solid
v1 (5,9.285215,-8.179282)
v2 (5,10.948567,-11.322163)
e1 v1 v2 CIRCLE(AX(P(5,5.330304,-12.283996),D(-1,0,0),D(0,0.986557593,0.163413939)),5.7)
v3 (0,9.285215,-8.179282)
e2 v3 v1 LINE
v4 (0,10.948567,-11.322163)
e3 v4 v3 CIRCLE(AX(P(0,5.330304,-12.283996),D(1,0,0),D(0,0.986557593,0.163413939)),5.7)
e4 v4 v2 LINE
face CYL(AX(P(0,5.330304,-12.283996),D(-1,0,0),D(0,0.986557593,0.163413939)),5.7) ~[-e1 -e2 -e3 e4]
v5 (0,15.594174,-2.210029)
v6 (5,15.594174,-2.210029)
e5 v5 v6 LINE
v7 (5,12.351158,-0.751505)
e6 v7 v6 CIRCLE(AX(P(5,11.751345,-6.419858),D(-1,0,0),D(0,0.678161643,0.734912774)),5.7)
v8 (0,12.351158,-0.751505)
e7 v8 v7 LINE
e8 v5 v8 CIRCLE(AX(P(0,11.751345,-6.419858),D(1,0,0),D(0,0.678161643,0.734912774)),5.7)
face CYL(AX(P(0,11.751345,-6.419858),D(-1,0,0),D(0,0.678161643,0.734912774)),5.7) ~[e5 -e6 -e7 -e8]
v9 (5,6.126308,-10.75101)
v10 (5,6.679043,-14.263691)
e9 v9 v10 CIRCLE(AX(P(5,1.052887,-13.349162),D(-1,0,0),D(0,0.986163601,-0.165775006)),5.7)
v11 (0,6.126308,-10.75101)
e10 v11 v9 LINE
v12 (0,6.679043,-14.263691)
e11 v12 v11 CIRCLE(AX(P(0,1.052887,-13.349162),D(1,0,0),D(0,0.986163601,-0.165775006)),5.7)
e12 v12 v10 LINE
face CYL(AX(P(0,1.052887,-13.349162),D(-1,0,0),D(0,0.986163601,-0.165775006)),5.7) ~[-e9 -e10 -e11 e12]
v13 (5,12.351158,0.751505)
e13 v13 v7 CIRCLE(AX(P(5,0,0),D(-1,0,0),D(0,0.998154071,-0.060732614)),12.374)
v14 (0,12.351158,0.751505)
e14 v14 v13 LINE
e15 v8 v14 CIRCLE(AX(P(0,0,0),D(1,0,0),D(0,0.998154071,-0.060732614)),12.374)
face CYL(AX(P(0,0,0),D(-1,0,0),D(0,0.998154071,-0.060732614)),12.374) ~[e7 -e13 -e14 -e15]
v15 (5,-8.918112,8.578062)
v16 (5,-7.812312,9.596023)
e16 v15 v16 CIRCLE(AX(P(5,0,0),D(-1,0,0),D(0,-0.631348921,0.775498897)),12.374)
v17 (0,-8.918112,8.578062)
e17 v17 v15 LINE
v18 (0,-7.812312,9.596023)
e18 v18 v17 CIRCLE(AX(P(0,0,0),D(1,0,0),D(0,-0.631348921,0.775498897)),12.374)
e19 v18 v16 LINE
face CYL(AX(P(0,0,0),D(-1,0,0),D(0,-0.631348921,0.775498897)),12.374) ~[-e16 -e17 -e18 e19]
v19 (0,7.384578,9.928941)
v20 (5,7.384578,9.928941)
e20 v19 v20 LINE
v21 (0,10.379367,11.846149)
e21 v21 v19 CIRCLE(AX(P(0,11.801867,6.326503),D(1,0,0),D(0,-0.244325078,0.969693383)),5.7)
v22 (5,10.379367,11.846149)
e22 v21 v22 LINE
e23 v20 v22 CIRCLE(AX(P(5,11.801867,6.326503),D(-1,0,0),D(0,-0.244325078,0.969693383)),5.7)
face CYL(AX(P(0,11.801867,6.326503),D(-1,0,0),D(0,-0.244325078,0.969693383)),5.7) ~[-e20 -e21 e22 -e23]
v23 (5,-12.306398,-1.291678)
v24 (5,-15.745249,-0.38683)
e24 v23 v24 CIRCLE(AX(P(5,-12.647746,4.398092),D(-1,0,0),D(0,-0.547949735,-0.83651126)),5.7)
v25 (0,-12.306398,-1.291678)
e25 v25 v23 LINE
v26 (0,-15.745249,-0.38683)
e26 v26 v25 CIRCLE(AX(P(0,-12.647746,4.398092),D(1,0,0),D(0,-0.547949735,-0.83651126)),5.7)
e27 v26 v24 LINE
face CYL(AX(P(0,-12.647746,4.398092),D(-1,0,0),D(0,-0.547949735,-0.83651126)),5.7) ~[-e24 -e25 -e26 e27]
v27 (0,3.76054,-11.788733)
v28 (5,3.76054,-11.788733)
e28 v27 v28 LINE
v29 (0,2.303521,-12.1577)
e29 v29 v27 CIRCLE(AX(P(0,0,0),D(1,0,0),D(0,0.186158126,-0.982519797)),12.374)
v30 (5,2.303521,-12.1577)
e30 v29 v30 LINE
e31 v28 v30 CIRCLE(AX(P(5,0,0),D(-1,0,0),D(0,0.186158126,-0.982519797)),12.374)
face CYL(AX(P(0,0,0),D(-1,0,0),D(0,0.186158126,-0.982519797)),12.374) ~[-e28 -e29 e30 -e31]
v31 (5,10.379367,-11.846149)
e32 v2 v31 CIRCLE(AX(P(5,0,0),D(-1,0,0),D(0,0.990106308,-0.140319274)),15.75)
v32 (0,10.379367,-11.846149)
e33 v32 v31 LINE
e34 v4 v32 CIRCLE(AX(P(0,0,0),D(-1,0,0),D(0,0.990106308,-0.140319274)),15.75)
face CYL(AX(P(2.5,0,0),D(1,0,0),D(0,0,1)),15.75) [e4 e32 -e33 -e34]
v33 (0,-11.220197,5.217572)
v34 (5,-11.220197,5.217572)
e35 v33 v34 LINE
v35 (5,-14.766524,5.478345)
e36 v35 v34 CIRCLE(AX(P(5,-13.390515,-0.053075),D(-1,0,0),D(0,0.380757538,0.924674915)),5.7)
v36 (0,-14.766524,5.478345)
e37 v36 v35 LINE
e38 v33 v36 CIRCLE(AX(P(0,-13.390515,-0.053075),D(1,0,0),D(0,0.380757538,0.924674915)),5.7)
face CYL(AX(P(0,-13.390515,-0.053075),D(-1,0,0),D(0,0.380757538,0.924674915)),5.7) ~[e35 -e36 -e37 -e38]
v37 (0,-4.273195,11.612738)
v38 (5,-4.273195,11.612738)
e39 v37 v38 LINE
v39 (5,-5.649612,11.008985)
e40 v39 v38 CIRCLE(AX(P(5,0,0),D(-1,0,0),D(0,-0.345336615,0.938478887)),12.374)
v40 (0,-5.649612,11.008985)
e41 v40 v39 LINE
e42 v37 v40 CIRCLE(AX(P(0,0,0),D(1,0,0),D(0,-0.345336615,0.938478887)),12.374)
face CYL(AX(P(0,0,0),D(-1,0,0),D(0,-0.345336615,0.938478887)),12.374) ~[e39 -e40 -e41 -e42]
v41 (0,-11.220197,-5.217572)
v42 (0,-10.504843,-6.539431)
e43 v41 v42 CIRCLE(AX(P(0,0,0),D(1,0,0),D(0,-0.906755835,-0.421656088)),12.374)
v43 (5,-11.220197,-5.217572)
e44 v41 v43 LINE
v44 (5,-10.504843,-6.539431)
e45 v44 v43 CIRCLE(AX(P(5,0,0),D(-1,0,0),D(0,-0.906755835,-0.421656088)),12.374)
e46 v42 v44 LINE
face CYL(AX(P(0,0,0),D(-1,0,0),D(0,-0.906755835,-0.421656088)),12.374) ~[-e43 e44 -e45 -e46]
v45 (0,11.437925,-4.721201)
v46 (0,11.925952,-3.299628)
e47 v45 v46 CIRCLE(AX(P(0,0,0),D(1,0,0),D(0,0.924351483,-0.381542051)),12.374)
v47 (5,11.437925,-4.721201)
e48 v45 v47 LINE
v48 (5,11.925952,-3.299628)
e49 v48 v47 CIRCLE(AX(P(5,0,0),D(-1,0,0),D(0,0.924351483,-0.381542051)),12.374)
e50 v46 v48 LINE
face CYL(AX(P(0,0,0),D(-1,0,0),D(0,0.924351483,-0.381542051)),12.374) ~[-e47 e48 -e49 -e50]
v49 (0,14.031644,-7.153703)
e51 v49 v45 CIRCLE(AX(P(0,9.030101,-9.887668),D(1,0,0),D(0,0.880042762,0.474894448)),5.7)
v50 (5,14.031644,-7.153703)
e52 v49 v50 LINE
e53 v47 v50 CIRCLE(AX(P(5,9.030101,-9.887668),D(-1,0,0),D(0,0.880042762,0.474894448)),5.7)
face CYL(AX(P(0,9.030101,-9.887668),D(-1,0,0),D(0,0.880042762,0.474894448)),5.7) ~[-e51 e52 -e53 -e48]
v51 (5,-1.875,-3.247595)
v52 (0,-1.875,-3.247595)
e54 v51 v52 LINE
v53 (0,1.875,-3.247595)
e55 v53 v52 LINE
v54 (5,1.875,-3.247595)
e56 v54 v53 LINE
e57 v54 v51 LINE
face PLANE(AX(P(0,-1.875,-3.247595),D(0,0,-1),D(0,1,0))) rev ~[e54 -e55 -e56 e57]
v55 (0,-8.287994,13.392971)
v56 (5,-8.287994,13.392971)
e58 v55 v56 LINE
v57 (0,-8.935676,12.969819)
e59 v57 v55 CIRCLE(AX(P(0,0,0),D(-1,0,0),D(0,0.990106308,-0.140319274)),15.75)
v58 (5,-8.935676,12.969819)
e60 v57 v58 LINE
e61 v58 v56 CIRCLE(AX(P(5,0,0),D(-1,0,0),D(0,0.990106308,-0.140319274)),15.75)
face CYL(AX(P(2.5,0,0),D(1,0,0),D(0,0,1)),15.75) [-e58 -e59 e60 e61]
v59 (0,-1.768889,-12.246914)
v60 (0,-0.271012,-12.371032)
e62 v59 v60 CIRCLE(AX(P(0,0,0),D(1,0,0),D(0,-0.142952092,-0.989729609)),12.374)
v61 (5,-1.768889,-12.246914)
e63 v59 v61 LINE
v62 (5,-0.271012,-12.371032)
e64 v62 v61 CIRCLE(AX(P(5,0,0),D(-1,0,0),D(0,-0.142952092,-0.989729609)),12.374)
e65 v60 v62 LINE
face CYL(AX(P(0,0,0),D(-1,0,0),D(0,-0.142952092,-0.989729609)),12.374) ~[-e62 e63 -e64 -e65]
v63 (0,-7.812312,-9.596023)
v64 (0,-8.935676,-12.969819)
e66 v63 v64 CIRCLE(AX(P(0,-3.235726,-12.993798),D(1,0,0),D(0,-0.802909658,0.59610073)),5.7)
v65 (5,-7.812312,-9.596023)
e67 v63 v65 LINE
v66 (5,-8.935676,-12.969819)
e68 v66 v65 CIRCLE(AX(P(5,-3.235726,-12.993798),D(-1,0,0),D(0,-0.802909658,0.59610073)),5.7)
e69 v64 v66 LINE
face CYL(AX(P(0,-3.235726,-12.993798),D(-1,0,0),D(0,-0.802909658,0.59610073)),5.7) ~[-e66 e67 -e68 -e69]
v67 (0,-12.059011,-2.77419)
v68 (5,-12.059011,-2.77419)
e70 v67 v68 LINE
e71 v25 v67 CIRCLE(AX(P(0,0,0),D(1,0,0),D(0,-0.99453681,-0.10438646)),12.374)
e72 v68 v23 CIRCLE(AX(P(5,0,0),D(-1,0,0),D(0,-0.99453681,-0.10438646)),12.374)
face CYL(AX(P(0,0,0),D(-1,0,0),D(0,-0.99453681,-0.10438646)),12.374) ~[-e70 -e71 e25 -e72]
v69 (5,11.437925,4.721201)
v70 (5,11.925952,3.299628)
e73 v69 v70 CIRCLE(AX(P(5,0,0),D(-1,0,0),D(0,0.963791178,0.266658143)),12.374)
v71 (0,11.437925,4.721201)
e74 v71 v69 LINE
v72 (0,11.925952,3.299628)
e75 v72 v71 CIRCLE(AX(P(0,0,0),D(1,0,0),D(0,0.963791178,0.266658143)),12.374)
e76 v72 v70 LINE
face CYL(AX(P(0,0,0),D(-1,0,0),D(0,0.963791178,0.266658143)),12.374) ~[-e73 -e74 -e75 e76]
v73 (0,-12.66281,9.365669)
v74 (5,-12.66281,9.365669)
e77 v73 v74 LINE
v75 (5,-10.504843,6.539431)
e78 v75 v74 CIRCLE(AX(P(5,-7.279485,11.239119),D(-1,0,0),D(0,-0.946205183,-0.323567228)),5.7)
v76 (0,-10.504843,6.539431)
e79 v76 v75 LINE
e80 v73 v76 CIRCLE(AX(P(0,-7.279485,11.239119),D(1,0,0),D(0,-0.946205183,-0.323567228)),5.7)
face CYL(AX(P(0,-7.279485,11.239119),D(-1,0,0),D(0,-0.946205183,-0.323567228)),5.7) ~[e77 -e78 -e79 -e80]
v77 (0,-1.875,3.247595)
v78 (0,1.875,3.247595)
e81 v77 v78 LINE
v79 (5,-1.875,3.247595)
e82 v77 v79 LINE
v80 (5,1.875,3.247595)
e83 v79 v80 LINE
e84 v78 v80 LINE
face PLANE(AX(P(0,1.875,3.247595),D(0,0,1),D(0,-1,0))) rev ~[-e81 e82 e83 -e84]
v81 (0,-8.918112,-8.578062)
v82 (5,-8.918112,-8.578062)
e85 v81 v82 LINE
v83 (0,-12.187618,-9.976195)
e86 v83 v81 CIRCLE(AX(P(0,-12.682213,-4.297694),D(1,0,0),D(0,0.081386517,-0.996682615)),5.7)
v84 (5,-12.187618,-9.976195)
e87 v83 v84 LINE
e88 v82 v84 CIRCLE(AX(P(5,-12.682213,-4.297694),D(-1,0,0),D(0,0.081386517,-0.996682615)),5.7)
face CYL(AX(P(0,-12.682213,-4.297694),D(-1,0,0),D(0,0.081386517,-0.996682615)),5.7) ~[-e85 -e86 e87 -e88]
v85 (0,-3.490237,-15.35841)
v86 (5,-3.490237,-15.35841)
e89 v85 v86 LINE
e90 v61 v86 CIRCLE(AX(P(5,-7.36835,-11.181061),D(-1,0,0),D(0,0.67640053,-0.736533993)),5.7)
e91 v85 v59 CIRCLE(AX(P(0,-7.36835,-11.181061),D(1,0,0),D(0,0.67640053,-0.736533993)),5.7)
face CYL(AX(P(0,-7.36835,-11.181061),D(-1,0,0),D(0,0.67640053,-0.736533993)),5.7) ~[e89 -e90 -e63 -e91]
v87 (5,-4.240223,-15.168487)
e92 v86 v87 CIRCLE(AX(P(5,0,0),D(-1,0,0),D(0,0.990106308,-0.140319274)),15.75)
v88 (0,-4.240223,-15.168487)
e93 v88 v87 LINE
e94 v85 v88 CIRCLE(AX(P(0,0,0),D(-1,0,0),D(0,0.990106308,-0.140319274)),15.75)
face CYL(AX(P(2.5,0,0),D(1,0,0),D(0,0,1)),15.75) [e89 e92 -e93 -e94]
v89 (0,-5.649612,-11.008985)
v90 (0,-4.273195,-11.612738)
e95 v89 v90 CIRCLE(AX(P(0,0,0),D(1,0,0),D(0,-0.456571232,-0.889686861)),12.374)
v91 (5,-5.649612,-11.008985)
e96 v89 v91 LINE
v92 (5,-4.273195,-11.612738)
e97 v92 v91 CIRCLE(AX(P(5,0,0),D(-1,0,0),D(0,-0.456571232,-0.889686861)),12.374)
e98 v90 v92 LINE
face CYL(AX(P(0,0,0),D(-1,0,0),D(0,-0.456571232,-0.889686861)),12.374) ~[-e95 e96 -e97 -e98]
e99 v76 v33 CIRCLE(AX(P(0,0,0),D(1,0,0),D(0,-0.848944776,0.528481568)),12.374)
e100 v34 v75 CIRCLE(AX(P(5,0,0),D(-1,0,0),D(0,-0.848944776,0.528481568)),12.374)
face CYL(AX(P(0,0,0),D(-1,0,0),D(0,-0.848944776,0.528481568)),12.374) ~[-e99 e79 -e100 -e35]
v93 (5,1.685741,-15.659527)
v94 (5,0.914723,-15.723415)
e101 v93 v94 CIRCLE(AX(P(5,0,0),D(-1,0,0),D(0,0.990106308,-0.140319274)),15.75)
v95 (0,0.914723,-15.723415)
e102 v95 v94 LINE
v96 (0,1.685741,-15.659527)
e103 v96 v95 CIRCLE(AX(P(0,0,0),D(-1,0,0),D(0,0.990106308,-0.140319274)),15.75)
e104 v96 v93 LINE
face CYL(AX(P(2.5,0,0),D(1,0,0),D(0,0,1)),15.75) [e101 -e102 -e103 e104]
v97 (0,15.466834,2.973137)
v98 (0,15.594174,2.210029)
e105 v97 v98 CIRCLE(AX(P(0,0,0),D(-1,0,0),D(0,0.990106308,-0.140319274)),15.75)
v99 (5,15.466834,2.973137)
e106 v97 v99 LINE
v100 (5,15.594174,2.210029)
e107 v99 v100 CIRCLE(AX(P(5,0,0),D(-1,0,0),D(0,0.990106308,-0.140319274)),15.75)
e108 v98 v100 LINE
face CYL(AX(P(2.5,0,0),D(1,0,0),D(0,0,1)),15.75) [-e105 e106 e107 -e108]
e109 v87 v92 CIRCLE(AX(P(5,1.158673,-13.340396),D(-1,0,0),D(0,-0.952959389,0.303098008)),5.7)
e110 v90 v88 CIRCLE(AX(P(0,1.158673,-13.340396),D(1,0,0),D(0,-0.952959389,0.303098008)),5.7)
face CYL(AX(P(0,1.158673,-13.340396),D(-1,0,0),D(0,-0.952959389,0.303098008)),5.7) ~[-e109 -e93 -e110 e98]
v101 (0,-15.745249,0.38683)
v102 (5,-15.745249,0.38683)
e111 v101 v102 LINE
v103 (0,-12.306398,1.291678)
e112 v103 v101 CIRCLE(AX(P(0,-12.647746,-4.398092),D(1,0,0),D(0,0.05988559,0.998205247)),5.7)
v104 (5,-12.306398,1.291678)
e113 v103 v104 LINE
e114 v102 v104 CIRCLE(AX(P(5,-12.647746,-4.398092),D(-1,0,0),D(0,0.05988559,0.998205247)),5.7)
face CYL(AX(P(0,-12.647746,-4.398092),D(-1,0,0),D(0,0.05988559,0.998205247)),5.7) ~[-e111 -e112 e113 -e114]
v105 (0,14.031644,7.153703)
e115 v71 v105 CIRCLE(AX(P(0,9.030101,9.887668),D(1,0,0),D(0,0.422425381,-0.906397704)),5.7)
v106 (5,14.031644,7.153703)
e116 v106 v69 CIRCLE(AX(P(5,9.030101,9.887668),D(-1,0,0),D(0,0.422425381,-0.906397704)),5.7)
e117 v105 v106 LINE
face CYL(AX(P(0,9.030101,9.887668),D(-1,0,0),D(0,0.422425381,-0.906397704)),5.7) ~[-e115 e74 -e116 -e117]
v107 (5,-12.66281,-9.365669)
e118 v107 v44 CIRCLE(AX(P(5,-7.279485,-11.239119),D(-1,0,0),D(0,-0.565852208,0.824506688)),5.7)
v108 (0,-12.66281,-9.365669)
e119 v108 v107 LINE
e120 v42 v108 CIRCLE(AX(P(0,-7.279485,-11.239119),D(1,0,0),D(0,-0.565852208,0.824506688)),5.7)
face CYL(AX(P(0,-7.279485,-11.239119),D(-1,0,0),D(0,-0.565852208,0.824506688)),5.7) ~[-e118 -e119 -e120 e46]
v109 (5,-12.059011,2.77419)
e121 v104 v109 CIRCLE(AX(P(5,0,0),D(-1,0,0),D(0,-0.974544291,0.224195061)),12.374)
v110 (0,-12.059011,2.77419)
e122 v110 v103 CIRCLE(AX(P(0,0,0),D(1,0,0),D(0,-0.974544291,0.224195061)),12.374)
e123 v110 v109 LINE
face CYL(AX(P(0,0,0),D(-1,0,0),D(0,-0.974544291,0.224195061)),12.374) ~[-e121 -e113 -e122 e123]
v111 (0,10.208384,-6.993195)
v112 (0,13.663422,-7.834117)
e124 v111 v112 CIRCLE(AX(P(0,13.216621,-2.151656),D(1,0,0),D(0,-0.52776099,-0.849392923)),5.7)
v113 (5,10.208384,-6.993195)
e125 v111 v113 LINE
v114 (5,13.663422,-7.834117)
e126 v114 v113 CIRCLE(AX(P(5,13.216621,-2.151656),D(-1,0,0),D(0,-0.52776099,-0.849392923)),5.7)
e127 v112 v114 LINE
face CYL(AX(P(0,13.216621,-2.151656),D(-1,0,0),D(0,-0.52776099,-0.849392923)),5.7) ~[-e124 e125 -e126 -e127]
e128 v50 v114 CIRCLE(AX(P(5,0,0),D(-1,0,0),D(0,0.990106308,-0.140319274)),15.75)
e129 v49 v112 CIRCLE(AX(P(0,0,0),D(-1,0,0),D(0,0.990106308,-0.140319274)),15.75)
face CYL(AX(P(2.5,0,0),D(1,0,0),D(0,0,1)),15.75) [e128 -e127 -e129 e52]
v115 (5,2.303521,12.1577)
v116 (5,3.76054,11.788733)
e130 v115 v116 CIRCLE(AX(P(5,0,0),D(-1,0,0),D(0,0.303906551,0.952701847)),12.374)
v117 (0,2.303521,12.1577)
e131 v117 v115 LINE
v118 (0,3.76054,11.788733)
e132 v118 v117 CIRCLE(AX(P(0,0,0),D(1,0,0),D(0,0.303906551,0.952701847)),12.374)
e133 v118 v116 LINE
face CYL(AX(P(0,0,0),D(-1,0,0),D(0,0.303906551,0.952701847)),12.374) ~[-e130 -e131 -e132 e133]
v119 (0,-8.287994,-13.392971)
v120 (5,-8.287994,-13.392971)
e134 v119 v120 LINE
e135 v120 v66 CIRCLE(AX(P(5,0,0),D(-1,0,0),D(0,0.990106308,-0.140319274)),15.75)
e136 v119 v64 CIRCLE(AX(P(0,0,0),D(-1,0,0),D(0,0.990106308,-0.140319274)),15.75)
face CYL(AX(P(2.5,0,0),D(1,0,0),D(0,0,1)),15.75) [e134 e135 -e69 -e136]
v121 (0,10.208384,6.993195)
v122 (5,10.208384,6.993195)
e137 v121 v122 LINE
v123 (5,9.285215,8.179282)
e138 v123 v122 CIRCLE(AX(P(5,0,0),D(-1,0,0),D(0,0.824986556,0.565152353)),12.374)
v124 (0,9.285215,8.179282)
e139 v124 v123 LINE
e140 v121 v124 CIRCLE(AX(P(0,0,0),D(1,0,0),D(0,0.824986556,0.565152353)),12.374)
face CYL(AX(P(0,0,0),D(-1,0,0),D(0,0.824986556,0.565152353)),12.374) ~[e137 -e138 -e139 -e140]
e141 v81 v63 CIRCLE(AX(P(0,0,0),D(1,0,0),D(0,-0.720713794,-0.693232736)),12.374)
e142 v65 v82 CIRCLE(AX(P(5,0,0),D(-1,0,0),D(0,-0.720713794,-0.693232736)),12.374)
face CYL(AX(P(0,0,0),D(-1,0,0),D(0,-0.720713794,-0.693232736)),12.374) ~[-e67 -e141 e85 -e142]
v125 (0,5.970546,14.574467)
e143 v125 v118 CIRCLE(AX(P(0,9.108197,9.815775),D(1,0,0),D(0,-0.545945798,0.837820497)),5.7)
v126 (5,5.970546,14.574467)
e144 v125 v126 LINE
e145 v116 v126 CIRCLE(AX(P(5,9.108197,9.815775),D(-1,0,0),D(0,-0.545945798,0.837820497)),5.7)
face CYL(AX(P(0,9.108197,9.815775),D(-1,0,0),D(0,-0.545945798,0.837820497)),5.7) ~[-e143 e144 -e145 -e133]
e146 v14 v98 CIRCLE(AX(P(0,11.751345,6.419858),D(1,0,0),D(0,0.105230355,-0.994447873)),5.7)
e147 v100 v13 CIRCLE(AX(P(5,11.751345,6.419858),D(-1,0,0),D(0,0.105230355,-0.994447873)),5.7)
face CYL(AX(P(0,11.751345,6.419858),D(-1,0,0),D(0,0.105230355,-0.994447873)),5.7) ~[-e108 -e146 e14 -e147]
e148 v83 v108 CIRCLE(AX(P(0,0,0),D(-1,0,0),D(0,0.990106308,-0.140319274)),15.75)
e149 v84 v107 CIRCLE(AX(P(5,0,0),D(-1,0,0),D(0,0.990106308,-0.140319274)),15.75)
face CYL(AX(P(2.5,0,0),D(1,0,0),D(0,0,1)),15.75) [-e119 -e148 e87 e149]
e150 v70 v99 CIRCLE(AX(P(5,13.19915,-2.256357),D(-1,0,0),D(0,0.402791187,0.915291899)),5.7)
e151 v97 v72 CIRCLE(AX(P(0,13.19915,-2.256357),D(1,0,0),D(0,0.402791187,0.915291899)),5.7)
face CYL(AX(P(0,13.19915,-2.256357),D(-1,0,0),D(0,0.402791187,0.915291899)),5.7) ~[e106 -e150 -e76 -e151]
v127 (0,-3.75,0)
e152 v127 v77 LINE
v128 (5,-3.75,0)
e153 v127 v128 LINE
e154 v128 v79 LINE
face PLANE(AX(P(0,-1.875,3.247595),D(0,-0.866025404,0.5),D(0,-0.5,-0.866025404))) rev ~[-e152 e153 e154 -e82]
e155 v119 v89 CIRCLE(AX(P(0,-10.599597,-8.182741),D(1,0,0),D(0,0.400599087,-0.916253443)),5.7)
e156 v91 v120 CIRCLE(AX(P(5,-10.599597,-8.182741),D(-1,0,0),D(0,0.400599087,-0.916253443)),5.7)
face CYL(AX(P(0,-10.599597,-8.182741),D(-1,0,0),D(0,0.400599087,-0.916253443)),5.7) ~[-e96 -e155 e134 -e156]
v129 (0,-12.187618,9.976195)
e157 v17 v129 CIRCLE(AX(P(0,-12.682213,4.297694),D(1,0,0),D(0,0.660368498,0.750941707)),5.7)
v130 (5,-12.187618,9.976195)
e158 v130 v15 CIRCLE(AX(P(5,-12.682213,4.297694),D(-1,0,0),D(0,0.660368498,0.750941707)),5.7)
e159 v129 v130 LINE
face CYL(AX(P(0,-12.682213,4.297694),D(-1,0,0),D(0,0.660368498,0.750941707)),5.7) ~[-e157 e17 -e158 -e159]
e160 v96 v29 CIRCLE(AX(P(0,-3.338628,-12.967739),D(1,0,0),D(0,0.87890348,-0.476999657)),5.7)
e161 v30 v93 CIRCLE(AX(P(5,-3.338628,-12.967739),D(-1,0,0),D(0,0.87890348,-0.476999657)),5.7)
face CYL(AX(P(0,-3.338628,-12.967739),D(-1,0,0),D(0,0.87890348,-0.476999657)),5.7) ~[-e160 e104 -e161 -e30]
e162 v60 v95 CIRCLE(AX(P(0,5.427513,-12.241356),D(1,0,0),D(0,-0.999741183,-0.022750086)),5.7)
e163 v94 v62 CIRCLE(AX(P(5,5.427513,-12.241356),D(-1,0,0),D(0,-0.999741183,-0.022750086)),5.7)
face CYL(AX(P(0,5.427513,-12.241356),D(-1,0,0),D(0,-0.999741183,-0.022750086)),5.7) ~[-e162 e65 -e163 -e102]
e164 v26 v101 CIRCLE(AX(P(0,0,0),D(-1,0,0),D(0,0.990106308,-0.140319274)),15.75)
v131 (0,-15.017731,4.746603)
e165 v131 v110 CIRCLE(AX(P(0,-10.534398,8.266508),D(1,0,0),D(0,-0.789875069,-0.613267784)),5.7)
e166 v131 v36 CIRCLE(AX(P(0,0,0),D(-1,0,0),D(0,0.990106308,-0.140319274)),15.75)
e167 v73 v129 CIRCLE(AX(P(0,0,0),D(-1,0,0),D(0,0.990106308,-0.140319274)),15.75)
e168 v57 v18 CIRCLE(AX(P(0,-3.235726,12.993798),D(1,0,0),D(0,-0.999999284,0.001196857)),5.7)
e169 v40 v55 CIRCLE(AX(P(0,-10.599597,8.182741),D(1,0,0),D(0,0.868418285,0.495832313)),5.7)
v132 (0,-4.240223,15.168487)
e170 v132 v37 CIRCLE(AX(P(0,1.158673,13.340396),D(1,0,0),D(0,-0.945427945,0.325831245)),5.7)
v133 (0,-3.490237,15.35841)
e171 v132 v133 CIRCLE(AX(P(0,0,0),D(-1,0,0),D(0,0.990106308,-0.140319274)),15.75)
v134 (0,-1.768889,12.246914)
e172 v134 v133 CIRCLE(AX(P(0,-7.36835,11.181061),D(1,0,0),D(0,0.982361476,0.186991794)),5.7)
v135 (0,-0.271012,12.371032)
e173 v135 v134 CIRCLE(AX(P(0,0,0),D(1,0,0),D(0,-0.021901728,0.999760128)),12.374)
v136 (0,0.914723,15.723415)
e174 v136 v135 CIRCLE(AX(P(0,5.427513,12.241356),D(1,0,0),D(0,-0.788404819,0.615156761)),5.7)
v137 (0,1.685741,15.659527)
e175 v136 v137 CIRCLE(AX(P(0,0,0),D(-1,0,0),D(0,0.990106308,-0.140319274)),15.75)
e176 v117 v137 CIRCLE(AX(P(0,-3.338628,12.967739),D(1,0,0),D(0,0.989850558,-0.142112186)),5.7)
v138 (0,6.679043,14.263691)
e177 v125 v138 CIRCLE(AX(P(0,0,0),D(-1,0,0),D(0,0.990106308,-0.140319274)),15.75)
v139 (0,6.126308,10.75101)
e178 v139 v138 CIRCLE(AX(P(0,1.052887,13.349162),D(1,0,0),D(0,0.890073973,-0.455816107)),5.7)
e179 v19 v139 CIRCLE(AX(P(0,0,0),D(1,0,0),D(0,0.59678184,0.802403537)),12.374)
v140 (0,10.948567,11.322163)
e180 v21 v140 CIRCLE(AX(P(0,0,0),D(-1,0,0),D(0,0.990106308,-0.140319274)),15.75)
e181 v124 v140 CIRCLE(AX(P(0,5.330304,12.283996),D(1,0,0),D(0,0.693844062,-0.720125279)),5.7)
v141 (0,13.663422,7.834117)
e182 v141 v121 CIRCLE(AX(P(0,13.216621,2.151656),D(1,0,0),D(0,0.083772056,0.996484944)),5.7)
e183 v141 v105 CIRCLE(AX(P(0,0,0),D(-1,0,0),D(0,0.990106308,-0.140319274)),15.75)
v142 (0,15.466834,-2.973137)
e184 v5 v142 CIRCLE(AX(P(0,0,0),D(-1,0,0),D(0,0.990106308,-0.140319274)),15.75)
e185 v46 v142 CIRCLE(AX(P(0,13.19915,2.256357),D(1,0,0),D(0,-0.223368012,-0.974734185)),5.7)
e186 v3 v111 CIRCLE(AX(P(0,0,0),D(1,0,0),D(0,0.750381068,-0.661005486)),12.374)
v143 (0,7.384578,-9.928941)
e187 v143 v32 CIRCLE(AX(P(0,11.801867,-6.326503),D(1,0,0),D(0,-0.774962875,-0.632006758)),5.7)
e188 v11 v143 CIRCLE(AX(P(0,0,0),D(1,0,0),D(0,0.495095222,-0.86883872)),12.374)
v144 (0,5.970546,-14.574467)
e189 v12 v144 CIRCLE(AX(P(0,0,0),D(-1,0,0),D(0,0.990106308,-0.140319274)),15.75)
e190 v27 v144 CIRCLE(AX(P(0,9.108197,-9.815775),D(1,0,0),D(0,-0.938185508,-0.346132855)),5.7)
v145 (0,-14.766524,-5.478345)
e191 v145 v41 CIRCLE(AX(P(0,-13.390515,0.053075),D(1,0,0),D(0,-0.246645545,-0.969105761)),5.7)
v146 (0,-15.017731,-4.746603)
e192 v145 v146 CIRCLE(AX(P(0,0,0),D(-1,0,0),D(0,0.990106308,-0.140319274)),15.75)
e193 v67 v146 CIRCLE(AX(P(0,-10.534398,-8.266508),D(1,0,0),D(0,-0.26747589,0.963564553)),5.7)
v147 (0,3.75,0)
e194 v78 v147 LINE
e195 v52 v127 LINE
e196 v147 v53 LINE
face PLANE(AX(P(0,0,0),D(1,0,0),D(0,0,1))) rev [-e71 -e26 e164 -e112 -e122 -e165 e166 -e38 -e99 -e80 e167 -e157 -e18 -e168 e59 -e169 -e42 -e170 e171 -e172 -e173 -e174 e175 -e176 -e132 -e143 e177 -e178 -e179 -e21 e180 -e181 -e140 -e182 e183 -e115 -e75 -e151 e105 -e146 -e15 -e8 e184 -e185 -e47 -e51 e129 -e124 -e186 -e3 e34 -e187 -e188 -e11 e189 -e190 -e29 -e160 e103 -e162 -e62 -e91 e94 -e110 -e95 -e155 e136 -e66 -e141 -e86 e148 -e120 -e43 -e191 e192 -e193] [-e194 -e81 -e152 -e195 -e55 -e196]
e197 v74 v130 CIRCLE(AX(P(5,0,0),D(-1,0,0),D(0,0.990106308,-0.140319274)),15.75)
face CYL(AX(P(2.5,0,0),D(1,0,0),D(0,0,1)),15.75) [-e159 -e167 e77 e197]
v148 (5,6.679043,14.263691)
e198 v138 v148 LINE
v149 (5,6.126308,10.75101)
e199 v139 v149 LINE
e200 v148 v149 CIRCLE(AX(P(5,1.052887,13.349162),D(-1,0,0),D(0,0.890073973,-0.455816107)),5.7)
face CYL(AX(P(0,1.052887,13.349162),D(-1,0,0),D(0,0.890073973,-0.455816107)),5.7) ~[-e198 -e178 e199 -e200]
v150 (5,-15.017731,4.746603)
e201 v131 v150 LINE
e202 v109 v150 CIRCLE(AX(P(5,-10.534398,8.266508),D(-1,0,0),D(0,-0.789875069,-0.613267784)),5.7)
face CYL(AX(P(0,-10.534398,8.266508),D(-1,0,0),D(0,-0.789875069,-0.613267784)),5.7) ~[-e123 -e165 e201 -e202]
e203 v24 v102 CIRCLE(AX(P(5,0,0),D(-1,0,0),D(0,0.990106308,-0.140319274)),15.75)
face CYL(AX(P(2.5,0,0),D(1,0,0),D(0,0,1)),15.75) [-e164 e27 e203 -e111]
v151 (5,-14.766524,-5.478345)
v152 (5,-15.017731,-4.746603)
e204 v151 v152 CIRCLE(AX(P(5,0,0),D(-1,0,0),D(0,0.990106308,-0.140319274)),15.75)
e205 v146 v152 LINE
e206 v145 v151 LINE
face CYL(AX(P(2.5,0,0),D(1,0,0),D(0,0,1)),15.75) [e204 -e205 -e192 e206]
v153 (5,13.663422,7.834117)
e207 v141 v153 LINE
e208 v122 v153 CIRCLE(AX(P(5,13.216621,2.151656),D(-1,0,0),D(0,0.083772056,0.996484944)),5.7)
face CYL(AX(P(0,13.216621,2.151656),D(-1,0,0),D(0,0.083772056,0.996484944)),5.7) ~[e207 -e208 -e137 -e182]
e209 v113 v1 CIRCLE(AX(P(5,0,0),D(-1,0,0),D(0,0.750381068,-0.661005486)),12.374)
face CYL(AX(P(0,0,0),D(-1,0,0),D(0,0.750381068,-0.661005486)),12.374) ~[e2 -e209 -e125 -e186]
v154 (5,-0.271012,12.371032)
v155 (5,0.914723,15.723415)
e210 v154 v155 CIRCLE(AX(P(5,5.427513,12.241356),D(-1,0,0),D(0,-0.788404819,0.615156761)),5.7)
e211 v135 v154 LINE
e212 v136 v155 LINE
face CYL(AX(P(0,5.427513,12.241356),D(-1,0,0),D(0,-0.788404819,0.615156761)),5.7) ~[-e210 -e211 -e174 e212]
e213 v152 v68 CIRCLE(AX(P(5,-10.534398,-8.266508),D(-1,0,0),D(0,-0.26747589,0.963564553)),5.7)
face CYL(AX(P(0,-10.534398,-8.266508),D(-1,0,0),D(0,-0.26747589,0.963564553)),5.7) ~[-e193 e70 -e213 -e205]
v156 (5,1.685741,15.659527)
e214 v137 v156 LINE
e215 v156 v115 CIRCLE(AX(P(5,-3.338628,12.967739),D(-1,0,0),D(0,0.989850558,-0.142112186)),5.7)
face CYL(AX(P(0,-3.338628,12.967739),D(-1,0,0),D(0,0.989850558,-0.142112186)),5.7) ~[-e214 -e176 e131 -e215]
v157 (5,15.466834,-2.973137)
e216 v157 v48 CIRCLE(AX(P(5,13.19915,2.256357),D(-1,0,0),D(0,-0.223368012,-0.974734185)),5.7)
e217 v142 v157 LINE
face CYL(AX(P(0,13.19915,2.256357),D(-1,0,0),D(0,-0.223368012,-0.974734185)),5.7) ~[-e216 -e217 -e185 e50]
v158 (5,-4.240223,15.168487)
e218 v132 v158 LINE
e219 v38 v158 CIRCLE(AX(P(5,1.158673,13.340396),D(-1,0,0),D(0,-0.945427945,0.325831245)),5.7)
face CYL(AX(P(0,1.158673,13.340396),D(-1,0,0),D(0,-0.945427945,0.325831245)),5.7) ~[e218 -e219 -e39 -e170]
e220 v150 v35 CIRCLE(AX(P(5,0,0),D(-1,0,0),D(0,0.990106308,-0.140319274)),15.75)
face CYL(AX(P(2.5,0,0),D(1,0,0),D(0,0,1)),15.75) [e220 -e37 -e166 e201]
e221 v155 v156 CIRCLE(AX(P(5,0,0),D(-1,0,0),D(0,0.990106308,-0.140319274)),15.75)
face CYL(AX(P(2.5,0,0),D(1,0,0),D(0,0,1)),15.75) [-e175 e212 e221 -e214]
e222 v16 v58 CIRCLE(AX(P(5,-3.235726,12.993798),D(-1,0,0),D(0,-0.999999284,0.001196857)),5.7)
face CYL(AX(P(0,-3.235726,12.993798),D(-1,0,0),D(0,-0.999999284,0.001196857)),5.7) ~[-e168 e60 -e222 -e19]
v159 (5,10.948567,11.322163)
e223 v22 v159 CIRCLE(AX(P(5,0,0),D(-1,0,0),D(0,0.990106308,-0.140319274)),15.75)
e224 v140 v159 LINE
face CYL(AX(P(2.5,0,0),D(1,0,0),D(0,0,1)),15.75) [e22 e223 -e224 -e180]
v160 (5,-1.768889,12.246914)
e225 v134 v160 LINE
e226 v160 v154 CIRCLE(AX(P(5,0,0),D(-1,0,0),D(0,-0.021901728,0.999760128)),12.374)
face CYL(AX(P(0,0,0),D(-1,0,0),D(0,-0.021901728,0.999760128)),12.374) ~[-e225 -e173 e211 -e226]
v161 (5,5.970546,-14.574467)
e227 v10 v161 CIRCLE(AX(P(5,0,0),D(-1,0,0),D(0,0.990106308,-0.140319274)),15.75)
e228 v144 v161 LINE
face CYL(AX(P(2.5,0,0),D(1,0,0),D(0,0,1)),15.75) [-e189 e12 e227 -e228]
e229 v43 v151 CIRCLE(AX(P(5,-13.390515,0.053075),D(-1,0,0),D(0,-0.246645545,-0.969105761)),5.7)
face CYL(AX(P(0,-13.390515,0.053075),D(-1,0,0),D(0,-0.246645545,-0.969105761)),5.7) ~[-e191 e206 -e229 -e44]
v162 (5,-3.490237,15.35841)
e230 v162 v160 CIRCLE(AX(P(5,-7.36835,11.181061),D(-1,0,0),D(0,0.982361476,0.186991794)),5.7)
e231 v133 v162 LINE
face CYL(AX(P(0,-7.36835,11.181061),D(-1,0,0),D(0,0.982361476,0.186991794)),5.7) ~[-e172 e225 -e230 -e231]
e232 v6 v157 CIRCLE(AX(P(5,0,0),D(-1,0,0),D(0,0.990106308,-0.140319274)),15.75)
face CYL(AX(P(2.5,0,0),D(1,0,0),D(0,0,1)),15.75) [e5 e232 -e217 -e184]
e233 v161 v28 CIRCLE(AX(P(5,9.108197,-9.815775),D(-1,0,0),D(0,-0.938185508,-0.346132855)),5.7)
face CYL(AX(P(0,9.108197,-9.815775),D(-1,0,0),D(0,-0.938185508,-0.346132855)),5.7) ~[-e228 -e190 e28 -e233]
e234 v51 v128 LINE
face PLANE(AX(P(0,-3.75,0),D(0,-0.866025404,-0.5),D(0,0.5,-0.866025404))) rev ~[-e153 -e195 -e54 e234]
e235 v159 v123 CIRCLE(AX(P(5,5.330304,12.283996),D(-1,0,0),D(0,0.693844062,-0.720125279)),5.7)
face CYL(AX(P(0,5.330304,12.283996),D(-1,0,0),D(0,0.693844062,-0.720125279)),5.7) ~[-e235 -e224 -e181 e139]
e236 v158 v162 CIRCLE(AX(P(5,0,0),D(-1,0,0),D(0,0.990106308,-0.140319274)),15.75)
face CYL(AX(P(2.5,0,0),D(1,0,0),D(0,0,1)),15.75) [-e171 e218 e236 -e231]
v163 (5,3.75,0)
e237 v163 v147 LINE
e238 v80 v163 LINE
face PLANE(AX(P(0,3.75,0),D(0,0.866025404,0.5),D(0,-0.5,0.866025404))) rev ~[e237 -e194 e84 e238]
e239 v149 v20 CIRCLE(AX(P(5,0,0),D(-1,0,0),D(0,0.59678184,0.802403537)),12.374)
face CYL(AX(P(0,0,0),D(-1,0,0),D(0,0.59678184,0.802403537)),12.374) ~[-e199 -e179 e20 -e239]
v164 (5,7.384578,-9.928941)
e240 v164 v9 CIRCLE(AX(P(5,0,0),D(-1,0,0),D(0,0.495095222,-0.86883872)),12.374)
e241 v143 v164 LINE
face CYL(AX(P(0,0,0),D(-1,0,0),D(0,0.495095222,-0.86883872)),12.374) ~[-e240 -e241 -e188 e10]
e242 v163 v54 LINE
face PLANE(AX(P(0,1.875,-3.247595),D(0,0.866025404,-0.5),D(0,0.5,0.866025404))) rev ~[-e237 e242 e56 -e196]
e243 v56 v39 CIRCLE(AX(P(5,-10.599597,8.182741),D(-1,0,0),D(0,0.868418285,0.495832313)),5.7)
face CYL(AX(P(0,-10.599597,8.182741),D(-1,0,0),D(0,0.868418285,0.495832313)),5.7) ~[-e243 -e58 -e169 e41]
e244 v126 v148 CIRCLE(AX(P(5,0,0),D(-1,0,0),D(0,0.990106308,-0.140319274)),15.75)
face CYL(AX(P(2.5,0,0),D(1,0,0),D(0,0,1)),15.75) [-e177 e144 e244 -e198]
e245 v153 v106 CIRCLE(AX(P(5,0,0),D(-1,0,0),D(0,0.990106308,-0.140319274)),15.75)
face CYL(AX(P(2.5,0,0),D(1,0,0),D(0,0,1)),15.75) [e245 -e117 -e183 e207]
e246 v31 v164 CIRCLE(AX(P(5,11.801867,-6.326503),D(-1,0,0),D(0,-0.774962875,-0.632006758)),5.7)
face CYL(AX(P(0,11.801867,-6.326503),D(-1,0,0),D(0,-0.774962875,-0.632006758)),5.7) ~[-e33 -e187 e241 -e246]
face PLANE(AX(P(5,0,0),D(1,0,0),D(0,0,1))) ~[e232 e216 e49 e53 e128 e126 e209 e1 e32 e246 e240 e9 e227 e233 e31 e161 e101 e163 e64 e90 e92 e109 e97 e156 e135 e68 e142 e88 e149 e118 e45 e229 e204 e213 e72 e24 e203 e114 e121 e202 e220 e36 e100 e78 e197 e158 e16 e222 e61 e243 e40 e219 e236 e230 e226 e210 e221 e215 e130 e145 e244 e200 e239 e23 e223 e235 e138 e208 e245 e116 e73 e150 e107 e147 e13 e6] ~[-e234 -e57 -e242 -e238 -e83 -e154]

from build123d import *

# Parameters (mm, degrees)
BASPROSKE_W     = 5
BASPROSKE_H     = 15.75
TOOTHCUT_DEPTH  = 23.828162432
TEETHCUTS_COUNT = 19
TEETHCUTS_ANGLE = 341.052631579
BORE_DEPTH      = 50.0000508


with BuildPart() as part:
    # BasProSke → Base-Revolve (revolve)
    with BuildSketch(Plane(origin=(0, 0, 0), x_dir=(1, 0, 0), z_dir=(0, 1, 0)), mode=Mode.PRIVATE) as base_revolve_sk:
        with Locations((2.5, 7.875)):
            Rectangle(BASPROSKE_W, BASPROSKE_H)
    revolve(base_revolve_sk.sketch.rotate(Axis((-10, 0, 0), (1, 0, 0)), 180), axis=Axis((-10, 0, 0), (1, 0, 0)))

    # TooCutSke → ToothCut (cut, through all)
    with BuildSketch(Plane(origin=(0, 0, 0), x_dir=(0, 0, -1), z_dir=(1, 0, 0))):
        with BuildLine():
            ThreePointArc((0.751505376, 12.351158475), (0, 12.374), (-0.751505376, 12.351158475))
            ThreePointArc((-0.751505376, 12.351158475), (-1.227741339, 14.103349268), (-2.230855439, 15.616866817))
            ThreePointArc((-2.230855439, 15.616866817), (0, 15.7754), (2.230855439, 15.616866817))
            ThreePointArc((2.230855439, 15.616866817), (1.227741339, 14.103349268), (0.751505376, 12.351158475))
        make_face()
    toothcut = extrude(amount=TOOTHCUT_DEPTH, mode=Mode.SUBTRACT)

    # TeethCuts: ToothCut ×19 about axis
    teethcuts_axis = Axis((-10, 0, 0), (1, 0, 0))
    for i in range(1, TEETHCUTS_COUNT):
        add(toothcut.rotate(teethcuts_axis, i * TEETHCUTS_ANGLE / (TEETHCUTS_COUNT - 1)), mode=Mode.SUBTRACT)

    # BorSke → Bore (cut, symmetric)
    with BuildSketch(Plane(origin=(0, 0, 0), x_dir=(0, 0, -1), z_dir=(1, 0, 0))):
        Polygon((0, 3.75), (-3.247595264, 1.875), (-3.247595264, -1.875), (0, -3.75), (3.247595264, -1.875), (3.247595264, 1.875), align=None)
    extrude(amount=BORE_DEPTH, both=True, mode=Mode.SUBTRACT)


solid = part.part
